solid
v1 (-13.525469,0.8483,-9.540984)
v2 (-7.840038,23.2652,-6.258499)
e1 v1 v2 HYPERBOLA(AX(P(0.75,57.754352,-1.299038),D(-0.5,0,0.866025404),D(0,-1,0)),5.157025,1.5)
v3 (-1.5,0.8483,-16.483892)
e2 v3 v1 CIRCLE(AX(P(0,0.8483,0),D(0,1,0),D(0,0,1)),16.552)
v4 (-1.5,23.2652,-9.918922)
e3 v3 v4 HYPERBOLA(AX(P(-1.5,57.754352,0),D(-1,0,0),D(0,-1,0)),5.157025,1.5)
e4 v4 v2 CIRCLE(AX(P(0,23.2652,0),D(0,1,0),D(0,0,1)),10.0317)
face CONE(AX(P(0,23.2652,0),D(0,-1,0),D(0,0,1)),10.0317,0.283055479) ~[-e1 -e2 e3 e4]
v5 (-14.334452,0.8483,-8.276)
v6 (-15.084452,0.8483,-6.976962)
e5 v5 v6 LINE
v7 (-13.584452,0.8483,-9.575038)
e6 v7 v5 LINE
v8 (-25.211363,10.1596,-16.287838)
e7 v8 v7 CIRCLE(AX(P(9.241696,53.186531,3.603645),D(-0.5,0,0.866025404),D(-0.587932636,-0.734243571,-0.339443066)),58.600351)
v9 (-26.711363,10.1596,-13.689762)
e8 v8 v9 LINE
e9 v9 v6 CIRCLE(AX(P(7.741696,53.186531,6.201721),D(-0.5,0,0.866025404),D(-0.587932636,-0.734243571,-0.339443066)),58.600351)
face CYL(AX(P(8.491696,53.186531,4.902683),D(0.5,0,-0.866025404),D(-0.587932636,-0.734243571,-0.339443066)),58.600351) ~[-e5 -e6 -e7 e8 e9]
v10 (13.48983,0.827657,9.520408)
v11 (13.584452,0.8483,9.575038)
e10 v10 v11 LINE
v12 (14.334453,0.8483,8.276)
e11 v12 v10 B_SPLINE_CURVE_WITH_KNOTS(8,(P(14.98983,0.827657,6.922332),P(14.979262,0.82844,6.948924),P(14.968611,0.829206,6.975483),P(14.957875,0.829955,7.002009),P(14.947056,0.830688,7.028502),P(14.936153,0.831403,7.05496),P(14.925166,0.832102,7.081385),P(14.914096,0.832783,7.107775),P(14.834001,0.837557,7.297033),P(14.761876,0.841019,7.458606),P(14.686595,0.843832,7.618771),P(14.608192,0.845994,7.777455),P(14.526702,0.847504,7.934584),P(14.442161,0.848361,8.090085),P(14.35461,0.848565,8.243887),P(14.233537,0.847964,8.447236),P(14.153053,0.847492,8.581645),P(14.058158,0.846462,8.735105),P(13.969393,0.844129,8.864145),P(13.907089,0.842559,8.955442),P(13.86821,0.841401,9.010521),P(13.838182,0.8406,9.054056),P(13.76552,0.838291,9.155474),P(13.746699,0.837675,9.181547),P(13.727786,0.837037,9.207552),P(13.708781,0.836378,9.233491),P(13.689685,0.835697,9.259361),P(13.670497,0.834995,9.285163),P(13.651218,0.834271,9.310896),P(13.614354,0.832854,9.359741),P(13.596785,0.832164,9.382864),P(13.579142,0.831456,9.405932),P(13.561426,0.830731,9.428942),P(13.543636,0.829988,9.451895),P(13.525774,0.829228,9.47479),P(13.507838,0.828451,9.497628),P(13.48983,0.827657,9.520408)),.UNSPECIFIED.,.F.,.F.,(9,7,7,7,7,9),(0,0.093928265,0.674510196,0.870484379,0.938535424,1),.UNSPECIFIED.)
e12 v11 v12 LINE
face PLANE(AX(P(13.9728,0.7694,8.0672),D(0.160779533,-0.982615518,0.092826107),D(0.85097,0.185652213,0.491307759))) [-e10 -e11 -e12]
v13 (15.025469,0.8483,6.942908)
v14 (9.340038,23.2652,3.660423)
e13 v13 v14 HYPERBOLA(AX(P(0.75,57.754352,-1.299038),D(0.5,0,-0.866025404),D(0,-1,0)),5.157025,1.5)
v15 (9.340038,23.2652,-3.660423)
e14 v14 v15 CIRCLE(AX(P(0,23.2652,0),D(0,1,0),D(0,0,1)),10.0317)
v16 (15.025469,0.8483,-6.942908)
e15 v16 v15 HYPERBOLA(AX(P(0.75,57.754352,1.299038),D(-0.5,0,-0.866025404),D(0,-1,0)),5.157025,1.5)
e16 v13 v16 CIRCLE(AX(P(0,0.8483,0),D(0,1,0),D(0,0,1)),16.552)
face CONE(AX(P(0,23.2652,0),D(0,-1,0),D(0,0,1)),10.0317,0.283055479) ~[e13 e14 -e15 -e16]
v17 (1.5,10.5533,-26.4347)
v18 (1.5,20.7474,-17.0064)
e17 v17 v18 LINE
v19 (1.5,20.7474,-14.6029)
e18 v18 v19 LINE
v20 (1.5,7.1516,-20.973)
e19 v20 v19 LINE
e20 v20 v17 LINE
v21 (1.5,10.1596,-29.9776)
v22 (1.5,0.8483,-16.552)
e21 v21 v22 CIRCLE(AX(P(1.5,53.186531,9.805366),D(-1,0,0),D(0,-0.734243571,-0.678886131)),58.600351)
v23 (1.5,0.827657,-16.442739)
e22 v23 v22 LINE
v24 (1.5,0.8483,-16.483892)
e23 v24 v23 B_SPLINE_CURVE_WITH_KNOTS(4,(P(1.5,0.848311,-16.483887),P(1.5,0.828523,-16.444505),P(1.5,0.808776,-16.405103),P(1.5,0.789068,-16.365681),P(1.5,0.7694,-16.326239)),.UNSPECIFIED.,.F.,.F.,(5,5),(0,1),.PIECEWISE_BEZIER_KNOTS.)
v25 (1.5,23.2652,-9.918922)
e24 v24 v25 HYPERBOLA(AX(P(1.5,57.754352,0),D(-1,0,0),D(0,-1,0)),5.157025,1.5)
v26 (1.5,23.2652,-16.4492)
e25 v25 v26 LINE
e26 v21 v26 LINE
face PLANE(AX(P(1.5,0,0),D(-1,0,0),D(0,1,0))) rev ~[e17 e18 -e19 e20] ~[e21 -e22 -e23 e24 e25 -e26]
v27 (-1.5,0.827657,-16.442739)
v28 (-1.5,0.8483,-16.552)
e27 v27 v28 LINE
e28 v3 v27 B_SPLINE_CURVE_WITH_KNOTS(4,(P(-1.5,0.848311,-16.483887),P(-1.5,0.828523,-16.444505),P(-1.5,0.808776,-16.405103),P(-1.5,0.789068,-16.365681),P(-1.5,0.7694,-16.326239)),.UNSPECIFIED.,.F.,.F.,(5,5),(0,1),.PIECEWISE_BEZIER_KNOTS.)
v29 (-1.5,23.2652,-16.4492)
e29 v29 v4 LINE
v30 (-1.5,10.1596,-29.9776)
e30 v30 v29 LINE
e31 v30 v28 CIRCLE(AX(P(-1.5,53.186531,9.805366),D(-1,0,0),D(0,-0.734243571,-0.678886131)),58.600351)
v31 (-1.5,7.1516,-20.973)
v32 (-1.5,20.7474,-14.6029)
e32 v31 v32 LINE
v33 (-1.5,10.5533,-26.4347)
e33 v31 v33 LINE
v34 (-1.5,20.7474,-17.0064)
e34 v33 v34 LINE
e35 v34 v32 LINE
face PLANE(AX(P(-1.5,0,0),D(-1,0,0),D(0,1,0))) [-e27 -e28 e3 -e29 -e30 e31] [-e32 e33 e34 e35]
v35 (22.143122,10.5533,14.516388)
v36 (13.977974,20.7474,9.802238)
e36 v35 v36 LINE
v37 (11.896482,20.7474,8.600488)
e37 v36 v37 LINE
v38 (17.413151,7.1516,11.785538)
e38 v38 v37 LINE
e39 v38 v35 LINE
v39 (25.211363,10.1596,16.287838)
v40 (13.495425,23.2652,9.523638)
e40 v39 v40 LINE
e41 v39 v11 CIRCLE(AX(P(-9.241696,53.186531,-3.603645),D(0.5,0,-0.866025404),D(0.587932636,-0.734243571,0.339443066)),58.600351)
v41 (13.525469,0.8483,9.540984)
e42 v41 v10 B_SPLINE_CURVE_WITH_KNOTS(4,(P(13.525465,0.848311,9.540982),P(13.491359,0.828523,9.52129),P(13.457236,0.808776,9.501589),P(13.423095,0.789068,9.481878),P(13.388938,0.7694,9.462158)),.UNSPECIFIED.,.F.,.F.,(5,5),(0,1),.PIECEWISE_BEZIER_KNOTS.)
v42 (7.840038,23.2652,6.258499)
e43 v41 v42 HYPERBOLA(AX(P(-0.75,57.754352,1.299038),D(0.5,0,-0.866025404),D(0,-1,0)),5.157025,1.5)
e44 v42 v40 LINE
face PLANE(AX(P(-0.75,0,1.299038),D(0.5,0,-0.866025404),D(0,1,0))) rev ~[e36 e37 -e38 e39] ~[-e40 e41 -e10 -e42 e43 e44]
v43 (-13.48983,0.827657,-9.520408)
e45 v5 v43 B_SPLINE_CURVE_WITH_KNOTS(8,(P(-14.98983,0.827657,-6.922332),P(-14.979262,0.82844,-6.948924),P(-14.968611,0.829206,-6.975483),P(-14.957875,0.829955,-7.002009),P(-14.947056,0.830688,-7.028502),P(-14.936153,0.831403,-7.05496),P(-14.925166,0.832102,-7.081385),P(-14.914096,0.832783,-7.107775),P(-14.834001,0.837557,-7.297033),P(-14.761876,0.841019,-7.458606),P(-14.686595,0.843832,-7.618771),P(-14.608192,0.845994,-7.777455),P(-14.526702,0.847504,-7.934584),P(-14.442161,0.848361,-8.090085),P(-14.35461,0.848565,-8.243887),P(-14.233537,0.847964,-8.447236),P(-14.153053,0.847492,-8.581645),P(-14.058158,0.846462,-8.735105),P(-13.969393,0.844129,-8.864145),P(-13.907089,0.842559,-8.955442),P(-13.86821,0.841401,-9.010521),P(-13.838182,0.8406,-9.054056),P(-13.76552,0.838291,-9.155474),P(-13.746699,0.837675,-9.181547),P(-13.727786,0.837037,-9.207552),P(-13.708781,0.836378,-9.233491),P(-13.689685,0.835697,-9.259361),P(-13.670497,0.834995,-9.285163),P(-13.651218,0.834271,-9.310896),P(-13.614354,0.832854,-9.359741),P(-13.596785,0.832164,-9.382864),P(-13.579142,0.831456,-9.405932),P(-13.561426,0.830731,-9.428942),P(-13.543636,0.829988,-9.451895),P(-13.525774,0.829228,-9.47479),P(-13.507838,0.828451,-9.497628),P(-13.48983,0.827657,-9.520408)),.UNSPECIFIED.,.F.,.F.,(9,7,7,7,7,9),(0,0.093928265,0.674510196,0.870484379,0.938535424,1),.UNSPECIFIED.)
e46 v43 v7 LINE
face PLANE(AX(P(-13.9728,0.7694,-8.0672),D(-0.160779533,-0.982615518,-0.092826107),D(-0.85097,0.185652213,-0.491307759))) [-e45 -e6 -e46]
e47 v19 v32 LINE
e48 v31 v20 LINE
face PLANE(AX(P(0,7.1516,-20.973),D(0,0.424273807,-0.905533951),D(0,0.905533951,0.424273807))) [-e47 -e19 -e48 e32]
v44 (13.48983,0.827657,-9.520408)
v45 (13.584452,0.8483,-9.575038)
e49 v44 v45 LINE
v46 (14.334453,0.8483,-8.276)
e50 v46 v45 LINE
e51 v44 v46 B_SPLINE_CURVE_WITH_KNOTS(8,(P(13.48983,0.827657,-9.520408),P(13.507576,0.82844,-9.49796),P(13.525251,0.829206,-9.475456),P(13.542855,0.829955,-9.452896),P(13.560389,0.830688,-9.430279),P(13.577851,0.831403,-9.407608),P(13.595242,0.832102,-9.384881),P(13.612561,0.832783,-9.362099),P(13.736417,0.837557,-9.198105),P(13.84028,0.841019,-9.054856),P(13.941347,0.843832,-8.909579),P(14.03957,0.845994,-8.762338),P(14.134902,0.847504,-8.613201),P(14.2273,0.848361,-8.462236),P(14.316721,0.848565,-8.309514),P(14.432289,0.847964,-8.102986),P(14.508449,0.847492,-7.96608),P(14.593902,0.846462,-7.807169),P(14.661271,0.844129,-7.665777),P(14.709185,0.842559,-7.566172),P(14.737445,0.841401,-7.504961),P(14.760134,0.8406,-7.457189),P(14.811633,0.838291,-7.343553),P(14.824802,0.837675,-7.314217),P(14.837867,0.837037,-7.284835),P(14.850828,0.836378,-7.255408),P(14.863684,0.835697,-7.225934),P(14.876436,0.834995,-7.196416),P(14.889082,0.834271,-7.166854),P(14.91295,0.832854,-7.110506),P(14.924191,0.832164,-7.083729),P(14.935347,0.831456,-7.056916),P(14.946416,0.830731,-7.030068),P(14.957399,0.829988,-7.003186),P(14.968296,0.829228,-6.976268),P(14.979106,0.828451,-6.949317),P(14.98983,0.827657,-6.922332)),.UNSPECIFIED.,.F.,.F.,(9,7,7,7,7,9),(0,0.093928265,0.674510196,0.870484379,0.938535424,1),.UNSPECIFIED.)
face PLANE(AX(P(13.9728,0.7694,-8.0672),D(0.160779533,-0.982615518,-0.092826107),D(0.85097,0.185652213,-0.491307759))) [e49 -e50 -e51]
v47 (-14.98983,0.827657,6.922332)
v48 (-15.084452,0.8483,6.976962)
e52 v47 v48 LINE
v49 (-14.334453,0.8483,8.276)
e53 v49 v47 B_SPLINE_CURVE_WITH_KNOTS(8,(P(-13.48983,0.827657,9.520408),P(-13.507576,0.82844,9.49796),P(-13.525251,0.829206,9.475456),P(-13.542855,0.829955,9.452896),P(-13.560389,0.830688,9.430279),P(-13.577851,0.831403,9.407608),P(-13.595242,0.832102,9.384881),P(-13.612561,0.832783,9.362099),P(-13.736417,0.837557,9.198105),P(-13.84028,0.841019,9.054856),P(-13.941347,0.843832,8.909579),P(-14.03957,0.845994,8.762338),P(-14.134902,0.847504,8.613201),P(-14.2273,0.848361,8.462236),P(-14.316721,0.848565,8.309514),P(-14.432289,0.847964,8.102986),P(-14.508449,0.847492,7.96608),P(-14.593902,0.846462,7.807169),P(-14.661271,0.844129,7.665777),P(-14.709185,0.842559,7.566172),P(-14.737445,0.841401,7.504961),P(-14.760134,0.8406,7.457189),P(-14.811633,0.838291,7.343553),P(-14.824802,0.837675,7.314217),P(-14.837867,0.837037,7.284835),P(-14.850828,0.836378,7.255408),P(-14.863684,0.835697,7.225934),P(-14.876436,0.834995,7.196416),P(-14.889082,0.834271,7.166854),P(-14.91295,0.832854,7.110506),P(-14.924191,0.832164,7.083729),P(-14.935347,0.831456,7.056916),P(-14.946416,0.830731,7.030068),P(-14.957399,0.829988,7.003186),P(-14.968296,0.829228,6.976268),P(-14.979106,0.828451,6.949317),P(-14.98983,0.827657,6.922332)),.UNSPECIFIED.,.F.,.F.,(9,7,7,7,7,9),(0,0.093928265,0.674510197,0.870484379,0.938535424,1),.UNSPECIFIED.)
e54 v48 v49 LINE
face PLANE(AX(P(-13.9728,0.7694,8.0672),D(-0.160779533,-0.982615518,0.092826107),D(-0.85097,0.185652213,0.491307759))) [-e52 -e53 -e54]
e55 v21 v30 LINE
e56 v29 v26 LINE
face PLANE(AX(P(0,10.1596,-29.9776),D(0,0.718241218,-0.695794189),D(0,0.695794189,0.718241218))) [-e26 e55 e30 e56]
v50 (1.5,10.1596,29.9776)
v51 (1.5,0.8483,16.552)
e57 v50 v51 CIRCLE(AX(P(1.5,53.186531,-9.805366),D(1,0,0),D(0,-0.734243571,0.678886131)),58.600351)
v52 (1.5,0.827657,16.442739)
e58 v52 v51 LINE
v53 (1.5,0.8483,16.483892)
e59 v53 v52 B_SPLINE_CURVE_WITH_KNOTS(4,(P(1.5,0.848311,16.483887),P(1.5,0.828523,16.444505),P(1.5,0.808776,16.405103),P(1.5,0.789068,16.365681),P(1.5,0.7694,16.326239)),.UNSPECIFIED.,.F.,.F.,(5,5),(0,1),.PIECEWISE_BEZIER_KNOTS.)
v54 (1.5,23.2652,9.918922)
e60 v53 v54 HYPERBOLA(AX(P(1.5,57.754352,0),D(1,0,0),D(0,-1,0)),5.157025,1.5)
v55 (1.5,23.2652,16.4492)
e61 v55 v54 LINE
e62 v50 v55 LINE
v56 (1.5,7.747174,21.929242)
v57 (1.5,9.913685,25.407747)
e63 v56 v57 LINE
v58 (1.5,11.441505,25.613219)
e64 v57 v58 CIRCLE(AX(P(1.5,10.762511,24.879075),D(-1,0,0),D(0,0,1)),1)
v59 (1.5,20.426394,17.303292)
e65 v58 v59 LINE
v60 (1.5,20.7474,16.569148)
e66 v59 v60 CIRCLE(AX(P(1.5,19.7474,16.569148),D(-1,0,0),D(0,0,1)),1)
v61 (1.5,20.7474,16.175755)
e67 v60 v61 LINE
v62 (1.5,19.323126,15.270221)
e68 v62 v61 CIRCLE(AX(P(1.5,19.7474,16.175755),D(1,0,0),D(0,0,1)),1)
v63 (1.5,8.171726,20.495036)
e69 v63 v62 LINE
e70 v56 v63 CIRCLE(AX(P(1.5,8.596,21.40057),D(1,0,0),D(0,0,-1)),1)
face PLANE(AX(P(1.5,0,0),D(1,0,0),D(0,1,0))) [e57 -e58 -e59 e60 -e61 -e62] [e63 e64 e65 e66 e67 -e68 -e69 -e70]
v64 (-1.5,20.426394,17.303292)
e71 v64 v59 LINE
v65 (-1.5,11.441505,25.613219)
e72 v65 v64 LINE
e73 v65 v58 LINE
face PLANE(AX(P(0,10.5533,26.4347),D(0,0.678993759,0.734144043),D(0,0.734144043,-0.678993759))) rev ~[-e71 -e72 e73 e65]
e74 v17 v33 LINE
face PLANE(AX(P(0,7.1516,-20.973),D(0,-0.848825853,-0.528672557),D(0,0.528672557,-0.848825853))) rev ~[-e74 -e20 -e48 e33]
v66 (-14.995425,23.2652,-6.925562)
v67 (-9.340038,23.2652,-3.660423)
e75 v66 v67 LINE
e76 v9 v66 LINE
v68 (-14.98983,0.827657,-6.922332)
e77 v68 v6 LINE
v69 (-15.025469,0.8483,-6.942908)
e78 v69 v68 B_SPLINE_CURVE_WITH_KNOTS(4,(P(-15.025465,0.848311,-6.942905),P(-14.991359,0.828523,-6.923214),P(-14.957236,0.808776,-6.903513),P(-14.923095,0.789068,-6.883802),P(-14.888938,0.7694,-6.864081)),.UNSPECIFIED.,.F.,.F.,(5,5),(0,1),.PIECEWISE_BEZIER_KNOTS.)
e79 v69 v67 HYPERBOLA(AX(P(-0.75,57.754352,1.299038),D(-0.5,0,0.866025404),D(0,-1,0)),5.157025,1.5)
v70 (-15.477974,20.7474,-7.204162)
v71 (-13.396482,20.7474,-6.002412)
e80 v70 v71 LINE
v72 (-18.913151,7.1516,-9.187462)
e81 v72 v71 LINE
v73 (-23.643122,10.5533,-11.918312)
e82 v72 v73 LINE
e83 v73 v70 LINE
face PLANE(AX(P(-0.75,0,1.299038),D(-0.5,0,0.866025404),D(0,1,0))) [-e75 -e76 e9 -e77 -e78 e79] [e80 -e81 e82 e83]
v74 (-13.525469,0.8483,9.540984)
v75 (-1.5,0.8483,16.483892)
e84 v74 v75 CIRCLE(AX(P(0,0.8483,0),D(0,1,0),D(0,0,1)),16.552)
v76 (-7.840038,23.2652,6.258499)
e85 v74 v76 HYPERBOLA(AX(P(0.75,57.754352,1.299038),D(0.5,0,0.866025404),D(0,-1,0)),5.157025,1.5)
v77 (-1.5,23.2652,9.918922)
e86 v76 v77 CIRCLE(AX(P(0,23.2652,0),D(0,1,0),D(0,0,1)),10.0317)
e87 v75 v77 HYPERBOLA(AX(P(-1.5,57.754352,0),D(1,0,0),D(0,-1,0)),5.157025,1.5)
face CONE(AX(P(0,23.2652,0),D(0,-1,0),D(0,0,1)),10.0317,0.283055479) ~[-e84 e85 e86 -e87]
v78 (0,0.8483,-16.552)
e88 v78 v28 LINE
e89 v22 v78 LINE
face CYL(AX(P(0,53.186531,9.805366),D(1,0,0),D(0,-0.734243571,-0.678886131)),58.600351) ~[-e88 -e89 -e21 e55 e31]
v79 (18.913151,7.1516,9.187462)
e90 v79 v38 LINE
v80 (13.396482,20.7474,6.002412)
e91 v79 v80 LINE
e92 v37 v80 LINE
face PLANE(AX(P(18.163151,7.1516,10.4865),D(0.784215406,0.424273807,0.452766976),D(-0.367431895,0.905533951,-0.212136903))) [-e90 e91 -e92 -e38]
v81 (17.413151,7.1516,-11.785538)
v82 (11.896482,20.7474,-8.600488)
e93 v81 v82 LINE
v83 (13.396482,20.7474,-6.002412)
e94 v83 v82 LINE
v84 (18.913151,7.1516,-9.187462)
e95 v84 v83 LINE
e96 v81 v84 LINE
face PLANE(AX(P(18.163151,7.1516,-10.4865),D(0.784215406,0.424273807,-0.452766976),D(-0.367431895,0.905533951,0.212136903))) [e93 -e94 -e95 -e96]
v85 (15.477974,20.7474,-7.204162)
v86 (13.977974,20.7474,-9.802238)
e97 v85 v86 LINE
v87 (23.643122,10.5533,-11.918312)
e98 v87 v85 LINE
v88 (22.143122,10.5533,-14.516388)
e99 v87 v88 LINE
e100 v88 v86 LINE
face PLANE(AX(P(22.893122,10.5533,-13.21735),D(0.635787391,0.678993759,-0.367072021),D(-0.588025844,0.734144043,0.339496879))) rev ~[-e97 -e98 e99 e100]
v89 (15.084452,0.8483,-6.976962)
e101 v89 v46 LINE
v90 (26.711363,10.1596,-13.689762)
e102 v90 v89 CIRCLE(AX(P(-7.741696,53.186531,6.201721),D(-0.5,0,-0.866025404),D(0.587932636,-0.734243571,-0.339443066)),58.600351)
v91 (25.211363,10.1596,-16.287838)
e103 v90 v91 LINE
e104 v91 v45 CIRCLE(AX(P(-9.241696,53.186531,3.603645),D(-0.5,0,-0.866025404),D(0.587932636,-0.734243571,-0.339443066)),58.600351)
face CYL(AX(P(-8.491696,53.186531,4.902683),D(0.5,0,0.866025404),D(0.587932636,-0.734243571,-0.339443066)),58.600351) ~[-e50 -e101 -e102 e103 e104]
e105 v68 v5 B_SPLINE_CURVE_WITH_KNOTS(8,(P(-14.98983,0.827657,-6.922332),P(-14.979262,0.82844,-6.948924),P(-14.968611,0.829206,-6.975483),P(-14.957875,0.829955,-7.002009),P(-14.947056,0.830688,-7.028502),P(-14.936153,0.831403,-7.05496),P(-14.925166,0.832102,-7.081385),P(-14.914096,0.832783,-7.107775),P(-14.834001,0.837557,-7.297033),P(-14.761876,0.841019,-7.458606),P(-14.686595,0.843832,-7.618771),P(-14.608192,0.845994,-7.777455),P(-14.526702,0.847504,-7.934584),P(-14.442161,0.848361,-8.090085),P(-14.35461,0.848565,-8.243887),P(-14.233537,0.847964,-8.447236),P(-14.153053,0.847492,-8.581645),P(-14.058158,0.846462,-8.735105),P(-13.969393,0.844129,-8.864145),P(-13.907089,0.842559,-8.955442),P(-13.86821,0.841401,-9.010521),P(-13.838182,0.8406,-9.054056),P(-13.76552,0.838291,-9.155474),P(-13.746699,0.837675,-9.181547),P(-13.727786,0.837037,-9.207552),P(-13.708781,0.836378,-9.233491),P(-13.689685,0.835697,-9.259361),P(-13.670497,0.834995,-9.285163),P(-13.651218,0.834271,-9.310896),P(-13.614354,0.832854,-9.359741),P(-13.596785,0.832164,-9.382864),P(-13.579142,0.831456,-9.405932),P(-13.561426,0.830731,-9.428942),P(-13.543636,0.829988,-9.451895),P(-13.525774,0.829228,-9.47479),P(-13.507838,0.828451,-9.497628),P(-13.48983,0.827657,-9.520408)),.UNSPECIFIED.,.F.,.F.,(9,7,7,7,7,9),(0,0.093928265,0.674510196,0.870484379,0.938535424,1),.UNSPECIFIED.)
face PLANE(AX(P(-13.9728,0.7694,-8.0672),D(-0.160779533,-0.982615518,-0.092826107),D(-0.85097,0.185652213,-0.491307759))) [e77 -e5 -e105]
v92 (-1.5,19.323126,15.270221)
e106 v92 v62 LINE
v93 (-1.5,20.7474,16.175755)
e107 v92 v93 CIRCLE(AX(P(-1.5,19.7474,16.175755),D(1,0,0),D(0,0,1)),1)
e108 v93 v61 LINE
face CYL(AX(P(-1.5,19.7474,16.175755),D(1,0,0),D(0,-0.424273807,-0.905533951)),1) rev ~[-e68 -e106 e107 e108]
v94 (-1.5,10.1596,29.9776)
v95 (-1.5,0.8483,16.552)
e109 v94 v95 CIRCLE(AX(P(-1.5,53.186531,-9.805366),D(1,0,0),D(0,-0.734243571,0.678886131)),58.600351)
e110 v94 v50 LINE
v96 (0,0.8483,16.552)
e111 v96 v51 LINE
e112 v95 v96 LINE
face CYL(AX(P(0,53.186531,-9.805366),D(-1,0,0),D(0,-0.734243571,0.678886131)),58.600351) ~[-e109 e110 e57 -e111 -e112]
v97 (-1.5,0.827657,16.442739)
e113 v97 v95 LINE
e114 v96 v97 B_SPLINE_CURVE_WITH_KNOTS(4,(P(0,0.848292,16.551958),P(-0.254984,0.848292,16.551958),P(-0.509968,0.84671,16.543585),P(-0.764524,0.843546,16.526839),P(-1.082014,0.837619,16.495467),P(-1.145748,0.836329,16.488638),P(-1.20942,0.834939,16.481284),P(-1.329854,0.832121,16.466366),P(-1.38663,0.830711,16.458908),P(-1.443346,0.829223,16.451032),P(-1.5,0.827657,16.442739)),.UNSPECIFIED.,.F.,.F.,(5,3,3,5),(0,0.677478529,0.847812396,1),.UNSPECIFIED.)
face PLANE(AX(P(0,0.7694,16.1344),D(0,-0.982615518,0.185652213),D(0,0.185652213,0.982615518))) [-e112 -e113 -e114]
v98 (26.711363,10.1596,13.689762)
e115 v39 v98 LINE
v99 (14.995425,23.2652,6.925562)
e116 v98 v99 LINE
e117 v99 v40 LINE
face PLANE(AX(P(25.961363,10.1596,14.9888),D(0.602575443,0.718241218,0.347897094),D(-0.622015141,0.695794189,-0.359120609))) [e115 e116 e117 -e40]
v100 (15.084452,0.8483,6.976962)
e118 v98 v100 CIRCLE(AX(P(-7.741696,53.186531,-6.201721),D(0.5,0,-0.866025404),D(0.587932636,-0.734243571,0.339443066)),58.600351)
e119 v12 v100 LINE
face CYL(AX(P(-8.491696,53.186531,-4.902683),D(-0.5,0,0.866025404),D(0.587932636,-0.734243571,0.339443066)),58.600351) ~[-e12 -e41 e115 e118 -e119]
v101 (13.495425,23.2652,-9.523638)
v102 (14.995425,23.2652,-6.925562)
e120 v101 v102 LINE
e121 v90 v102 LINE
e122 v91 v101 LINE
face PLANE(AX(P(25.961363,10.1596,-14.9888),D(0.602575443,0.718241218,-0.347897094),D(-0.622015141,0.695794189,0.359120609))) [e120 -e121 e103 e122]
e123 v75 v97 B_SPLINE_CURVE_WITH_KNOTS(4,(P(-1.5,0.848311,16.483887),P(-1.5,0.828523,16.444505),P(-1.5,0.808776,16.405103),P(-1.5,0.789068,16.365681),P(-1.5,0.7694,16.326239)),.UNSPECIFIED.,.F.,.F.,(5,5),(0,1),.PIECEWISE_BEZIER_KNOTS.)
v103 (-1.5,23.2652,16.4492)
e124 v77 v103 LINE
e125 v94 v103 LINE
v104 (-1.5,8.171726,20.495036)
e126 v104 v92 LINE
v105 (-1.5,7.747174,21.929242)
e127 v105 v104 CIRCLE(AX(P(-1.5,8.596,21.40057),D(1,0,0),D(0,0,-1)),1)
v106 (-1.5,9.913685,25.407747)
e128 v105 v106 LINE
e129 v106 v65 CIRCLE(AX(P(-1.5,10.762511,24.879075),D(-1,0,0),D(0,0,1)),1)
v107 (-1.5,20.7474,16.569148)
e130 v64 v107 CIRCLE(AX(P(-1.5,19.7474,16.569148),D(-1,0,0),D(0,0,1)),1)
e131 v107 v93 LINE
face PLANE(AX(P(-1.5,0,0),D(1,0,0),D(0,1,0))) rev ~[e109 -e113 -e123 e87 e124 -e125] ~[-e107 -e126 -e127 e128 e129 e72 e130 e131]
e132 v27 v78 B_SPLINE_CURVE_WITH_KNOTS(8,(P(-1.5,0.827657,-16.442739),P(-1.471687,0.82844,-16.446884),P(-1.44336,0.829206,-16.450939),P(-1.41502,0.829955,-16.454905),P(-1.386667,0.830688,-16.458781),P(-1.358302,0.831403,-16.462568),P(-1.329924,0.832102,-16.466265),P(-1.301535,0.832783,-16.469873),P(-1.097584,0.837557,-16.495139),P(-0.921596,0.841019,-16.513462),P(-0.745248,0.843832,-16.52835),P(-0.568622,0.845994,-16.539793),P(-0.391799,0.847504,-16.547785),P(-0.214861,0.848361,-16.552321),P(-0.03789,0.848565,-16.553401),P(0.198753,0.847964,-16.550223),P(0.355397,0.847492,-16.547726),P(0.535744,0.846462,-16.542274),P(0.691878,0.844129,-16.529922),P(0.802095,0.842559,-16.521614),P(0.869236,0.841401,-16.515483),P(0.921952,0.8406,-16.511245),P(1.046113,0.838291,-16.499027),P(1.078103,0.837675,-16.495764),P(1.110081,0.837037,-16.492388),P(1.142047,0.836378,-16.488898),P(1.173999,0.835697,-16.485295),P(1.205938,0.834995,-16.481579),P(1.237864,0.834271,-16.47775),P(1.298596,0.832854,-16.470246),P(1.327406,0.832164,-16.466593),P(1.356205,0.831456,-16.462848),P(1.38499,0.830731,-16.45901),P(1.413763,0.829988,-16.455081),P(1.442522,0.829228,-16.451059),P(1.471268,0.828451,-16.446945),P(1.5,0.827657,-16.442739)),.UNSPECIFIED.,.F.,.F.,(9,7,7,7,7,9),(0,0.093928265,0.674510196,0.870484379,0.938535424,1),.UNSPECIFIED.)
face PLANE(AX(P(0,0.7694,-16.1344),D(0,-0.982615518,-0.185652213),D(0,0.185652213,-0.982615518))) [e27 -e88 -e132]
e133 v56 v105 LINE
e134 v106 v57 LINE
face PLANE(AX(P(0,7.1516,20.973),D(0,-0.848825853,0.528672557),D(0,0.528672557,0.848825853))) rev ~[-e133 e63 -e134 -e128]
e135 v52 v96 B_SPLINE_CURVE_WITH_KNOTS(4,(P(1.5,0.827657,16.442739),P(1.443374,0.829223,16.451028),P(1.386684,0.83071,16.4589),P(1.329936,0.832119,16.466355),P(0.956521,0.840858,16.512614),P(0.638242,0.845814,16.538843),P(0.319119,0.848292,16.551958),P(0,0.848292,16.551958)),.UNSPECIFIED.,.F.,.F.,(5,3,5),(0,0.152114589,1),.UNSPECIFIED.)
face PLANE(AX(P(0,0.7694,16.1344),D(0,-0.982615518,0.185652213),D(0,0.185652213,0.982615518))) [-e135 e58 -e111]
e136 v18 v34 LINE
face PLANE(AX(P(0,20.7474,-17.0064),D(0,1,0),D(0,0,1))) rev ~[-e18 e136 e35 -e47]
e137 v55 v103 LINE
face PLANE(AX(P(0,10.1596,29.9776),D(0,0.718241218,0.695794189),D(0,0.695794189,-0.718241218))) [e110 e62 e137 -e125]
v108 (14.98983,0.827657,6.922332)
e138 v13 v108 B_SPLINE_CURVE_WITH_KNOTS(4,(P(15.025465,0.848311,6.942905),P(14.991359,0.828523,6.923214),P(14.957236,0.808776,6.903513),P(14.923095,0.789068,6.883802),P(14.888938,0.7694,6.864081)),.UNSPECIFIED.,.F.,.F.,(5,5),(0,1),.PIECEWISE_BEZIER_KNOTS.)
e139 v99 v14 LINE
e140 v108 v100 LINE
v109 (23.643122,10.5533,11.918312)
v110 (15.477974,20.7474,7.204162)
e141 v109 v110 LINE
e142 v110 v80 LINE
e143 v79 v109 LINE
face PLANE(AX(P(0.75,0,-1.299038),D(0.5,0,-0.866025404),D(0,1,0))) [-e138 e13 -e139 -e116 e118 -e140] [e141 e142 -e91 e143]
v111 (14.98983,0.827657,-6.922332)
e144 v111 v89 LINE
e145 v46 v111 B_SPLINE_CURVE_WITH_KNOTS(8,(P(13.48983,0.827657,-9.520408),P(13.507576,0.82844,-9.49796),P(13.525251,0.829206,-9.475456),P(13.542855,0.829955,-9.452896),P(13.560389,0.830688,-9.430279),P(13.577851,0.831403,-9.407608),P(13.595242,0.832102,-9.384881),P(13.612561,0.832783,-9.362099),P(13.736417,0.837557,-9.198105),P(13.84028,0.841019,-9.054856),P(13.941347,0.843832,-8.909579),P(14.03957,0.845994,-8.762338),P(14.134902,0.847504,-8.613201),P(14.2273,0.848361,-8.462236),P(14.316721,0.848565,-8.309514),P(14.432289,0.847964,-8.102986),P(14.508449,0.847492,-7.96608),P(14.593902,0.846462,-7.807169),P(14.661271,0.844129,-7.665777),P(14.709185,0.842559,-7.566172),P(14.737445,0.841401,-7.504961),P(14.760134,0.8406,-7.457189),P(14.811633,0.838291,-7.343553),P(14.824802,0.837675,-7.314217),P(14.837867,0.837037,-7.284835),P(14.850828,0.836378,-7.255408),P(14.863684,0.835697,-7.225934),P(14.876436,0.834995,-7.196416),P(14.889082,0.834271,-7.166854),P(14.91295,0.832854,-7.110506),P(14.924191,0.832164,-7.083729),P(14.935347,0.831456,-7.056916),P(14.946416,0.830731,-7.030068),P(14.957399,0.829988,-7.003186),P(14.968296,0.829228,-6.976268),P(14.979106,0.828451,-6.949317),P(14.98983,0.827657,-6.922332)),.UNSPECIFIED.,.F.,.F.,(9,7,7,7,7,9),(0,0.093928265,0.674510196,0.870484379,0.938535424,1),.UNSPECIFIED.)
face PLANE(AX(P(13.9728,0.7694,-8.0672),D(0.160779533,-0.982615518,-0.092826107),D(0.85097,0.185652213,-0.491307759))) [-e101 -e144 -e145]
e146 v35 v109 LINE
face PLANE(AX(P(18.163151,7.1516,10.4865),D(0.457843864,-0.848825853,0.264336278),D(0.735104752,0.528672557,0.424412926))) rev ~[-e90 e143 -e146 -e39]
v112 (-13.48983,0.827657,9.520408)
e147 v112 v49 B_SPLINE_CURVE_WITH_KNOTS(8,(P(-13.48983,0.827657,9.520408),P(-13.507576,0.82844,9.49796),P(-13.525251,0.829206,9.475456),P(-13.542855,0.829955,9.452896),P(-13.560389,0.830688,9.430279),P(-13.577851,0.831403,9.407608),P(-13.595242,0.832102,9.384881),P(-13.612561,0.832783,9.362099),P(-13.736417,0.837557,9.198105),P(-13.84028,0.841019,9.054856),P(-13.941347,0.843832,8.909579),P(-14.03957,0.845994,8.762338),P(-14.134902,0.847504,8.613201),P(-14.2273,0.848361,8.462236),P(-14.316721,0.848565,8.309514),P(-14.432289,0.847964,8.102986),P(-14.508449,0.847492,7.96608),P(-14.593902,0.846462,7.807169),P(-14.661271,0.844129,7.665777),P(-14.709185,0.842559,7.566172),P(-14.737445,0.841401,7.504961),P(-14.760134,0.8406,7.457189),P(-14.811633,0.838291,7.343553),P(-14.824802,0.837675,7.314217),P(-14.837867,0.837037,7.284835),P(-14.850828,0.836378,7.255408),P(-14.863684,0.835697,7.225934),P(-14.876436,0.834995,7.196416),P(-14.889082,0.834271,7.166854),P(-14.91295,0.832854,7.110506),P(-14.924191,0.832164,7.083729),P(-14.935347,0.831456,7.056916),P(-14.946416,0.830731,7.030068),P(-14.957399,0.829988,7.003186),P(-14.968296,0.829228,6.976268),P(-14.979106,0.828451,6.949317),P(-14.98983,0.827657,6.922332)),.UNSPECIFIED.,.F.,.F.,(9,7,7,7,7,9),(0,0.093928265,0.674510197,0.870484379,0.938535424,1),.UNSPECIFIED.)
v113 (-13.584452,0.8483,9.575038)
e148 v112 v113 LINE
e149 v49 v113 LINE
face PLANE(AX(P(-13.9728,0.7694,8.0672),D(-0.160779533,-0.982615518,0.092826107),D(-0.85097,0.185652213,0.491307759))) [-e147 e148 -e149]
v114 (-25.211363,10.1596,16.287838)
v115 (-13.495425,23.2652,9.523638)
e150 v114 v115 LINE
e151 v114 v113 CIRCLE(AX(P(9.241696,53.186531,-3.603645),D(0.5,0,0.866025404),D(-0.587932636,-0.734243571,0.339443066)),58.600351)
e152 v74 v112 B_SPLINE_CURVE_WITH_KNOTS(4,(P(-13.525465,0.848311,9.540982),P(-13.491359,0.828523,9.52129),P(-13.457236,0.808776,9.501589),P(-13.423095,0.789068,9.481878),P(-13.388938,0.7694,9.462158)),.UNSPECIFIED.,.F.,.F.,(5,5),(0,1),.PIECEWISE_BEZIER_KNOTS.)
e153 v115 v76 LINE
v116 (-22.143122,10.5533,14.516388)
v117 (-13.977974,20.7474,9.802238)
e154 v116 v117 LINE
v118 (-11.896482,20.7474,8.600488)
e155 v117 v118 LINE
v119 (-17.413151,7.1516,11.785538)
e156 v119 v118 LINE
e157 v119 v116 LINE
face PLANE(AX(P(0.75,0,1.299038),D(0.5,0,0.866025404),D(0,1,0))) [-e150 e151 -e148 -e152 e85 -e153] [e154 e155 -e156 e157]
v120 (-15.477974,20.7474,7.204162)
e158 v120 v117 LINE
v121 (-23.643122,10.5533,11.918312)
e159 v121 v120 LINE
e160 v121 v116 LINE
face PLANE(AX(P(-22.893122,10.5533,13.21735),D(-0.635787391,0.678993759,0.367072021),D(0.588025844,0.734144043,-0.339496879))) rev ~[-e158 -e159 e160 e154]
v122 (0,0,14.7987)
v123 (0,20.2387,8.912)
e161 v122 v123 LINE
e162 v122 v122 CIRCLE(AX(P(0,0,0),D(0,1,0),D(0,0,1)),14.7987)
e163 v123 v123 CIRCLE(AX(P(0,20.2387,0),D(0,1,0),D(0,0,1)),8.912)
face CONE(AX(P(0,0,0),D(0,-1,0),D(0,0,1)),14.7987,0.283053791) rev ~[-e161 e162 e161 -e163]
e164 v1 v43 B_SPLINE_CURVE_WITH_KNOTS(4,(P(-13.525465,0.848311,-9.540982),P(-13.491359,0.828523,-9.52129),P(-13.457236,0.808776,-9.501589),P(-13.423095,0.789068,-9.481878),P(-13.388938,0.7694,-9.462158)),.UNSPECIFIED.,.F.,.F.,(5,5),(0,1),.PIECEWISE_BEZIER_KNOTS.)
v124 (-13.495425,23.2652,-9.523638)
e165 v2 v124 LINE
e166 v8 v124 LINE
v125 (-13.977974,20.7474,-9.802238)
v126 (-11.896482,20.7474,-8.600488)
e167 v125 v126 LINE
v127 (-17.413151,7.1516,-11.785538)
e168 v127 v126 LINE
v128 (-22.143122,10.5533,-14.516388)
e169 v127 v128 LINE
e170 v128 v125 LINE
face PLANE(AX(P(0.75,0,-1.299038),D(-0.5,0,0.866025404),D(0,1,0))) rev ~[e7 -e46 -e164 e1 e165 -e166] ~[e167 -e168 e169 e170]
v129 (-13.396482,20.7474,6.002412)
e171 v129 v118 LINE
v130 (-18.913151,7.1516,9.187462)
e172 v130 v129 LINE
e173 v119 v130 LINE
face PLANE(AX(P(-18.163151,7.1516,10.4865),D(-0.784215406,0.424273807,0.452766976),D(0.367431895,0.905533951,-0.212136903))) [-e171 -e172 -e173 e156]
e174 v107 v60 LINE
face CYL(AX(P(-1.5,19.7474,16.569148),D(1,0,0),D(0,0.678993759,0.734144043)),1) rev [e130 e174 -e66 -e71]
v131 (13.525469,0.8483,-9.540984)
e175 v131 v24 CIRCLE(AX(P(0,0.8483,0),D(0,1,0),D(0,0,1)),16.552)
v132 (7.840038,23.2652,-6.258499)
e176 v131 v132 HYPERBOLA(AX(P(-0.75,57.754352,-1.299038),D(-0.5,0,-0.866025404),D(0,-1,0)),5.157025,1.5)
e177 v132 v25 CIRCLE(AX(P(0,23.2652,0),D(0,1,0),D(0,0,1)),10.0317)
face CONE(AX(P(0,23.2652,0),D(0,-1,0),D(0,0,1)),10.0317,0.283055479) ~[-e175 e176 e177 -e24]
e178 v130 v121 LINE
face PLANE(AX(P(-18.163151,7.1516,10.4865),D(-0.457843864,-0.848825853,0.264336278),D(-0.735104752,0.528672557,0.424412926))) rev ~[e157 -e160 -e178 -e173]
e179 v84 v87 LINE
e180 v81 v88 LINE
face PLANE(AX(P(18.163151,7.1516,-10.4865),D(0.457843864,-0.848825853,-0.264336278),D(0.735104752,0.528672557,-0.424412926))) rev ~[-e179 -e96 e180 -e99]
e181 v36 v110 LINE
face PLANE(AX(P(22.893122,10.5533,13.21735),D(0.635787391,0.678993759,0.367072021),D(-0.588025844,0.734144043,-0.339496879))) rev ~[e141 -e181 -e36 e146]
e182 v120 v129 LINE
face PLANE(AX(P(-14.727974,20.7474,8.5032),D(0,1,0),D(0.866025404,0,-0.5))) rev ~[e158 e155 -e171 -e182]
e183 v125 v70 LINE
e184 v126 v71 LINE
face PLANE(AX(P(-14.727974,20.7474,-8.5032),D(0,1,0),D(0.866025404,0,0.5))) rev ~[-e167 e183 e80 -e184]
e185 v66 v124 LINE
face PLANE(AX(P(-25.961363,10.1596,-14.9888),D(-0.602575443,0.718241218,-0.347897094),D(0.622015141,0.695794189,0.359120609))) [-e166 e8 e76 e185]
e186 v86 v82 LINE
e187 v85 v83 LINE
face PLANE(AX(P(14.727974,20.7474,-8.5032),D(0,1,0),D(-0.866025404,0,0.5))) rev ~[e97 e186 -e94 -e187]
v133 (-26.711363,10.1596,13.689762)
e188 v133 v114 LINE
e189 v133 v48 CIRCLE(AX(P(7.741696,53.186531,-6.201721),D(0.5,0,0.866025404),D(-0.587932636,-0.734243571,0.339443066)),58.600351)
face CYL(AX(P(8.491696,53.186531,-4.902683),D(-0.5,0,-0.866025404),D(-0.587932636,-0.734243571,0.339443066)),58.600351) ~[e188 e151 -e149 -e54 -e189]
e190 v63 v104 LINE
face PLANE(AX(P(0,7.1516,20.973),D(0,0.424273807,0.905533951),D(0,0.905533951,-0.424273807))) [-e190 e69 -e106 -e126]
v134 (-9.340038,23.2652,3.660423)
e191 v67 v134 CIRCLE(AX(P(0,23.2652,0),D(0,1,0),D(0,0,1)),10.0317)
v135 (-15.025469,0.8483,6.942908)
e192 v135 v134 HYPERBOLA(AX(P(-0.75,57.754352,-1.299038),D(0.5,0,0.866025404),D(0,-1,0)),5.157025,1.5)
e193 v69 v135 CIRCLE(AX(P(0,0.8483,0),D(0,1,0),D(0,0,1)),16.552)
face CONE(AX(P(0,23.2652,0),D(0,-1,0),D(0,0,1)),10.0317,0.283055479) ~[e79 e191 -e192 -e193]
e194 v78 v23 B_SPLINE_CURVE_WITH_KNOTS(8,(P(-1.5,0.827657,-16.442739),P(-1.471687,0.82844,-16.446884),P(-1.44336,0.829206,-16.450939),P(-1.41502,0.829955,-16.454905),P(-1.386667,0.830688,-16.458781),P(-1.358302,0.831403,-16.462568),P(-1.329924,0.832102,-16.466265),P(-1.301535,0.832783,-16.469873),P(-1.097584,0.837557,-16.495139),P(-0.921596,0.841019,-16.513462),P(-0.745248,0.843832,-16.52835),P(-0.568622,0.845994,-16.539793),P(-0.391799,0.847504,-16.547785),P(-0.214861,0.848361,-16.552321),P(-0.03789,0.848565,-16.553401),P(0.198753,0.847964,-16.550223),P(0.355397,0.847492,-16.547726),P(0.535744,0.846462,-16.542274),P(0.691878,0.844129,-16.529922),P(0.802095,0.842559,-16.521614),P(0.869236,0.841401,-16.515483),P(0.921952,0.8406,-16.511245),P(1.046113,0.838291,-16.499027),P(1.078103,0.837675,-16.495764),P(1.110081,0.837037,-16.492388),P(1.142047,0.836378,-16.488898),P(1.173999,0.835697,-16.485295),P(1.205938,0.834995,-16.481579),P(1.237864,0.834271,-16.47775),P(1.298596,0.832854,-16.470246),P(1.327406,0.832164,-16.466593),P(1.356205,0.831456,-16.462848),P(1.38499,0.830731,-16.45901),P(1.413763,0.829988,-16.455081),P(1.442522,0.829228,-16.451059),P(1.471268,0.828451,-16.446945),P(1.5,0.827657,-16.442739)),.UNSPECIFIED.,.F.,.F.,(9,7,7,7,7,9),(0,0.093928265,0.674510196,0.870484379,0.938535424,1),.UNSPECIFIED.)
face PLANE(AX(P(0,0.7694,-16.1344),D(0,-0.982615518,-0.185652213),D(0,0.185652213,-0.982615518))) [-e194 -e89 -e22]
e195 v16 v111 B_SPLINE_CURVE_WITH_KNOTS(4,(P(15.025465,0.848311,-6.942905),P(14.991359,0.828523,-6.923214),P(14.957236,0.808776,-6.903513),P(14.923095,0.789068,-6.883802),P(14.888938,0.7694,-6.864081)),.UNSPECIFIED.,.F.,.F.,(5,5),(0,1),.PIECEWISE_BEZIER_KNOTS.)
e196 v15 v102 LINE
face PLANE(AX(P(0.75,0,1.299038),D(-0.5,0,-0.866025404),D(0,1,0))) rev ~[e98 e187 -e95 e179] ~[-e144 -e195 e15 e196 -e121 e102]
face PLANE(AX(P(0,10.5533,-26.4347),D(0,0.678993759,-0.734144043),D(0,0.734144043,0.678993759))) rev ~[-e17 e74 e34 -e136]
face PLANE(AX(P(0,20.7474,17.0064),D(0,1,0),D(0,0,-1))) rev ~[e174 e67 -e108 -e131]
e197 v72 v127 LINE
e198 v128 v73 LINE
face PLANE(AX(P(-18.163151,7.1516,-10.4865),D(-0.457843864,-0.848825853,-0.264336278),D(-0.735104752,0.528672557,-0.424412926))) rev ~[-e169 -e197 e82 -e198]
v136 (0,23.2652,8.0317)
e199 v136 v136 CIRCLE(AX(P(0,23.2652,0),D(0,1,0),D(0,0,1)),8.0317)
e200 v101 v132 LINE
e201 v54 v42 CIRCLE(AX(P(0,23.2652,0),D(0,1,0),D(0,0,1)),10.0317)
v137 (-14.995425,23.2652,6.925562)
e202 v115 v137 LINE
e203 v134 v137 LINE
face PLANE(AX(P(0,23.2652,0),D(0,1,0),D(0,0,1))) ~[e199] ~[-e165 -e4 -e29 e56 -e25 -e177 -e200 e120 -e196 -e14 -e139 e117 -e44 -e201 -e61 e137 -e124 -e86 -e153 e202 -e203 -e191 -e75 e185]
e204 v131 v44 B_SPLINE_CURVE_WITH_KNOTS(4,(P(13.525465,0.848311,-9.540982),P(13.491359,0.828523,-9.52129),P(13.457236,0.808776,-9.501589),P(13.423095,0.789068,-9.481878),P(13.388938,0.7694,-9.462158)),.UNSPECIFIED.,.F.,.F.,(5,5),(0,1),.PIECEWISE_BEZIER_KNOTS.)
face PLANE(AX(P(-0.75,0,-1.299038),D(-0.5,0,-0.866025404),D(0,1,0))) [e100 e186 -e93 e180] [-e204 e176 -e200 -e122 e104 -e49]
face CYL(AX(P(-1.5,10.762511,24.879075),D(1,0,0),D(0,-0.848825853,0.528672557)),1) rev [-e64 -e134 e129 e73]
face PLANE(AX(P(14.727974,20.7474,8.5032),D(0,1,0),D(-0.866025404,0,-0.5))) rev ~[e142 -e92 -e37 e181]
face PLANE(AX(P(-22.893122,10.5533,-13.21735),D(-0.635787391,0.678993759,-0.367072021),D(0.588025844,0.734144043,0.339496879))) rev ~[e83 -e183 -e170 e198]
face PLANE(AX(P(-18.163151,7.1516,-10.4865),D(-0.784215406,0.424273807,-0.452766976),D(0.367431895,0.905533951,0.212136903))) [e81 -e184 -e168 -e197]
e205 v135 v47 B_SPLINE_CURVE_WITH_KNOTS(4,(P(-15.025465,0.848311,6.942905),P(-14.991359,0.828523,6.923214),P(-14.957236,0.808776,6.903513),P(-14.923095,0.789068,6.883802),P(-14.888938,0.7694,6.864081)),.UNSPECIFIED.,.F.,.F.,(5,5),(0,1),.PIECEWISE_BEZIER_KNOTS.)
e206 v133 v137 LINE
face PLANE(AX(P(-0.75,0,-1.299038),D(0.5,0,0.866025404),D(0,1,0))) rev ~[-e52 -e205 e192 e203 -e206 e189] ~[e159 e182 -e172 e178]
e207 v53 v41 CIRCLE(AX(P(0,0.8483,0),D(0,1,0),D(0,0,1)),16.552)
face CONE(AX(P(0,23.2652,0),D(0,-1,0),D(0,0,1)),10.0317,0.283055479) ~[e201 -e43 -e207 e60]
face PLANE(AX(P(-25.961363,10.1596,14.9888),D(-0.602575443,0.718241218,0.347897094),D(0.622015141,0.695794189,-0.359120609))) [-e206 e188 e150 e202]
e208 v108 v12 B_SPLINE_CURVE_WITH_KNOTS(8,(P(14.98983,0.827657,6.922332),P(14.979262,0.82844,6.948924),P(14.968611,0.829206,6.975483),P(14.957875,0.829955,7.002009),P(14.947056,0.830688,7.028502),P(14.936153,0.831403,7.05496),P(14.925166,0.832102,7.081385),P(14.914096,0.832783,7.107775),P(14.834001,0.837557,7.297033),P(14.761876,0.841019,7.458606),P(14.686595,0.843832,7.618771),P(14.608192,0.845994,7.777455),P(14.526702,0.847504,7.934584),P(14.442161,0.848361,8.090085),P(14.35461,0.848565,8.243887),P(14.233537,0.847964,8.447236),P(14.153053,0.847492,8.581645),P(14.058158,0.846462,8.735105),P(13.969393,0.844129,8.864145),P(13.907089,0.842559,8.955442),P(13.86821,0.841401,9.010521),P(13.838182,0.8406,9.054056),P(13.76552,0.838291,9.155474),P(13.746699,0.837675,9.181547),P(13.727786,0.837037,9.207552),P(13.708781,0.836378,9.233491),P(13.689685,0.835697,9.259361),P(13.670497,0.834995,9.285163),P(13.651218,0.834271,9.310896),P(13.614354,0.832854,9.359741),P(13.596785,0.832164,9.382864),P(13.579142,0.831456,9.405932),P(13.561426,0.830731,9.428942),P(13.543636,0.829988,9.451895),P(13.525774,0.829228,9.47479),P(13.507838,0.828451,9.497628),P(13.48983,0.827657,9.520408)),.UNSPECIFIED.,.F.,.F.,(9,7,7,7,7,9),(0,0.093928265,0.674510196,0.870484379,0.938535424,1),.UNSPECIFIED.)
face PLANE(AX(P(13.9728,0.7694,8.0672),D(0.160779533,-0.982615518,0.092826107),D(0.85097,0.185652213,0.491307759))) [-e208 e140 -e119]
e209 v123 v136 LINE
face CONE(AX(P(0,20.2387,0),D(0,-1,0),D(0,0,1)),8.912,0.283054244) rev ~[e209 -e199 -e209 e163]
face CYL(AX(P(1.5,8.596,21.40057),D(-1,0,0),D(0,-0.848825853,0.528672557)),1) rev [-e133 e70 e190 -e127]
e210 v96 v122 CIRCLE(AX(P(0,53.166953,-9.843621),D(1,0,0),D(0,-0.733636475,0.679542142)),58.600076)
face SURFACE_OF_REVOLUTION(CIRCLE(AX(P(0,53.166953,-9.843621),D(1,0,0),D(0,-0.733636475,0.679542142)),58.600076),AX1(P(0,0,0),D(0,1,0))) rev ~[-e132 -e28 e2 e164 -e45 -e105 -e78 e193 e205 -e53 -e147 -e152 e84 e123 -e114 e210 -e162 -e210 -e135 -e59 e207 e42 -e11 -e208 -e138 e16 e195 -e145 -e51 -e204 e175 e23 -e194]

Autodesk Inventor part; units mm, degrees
ref_plane "YZ Plane" through (0, 0, 0) normal (1, 0, 0) x (0, 1, 0)
ref_plane "XZ Plane" through (0, 0, 0) normal (0, 1, 0) x (-1, 0, 0)
ref_plane "XY Plane" through (0, 0, 0) normal (0, 0, 1) x (1, 0, 0)
sketch "Sketch1" plane through (0, 0, 0) normal (1, 0, 0) x (0, 1, 0)
  line L0 (0, 14.7987) -> (0, -14.7987)
  line L1 (20.2387, -8.912) -> (20.2387, 8.912)
  line L2 (0, 14.7987) -> (20.2387, 8.912)
  line L3 (20.2387, 8.912) -> (23.2652, 8.0317)
  line L4 (23.2652, 8.0317) -> (23.2652, 10.0317)
  line L5 (23.2652, 10.0317) -> (0.8483, 16.552)
  arc A0 (10.1758, 29.9776) -> (0, 14.7987) centre (53.1668, -9.8435) ccw
  line L6 (0, 0) -> (4.1623, 0)
  dimension "d0" = 2
  dimension "d1" = 23.3459
  dimension "d2" = 58.5999
  dimension "d3" = 29.5974
  dimension "d4" = 20.2387
  dimension "d5" = 17.8241
  dimension "d6" = 1.7533
revolve "Revolution1" add sketch "Sketch1" angle 360 about axis through (0, 0, 0) along (0, 1, 0)
sketch "Sketch2" plane through (0, 0, 0) normal (1, 0, 0) x (0, 1, 0)
  arc A0 (10.1596, 29.9776) -> (0.8483, 16.552) centre (53.1862, -9.8051) ccw
  line L0 (0.8483, 16.552) -> (23.2652, 10.0317)
  line L1 (23.2652, 9.4492) -> (23.2652, 16.4492)
  line L2 (10.1596, 29.9776) -> (23.2652, 16.4492)
  line L3 (0.8483, -16.552) -> (23.2652, -10.0317) projected
  line L4 (0.8483, 16.552) -> (23.2652, 10.0317) projected
  line L5 (10.5533, 26.4347) -> (20.7474, 17.0064)
  line L6 (7.1516, 20.973) -> (10.5533, 26.4347)
  line L7 (7.1516, 20.973) -> (20.7474, 14.6029)
  line L8 (20.7474, 17.0064) -> (20.7474, 14.6029)
  line L9 (23.2652, 9.4492) -> (0.7694, 16.1344)
  line L10 (0.7694, 16.1344) -> (0.8483, 16.552)
  point P0 (0, 0)
  dimension "d8" = 18.8355
  dimension "d9" = 22.4169
  dimension "d10" = 7
  dimension "d11" = 58.5999
  dimension "d12" = 23.3459
  dimension "d15" = 13.4256
extrude "Extrusion1" add sketch "Sketch2" along normal mid plane 3
fillet "Fillet1" radius 1 4 edges at (0, 10.5533, 26.4347) (0, 7.1516, 20.973) (0, 20.7474, 17.0064) (0, 20.7474, 14.6029)
pattern_circular "Circular Pattern1" count 6 over 360 about axis through (0, 11.6326, 0) along (0, 1, 0) of "Extrusion1"
properties part number "Internal Structure"
